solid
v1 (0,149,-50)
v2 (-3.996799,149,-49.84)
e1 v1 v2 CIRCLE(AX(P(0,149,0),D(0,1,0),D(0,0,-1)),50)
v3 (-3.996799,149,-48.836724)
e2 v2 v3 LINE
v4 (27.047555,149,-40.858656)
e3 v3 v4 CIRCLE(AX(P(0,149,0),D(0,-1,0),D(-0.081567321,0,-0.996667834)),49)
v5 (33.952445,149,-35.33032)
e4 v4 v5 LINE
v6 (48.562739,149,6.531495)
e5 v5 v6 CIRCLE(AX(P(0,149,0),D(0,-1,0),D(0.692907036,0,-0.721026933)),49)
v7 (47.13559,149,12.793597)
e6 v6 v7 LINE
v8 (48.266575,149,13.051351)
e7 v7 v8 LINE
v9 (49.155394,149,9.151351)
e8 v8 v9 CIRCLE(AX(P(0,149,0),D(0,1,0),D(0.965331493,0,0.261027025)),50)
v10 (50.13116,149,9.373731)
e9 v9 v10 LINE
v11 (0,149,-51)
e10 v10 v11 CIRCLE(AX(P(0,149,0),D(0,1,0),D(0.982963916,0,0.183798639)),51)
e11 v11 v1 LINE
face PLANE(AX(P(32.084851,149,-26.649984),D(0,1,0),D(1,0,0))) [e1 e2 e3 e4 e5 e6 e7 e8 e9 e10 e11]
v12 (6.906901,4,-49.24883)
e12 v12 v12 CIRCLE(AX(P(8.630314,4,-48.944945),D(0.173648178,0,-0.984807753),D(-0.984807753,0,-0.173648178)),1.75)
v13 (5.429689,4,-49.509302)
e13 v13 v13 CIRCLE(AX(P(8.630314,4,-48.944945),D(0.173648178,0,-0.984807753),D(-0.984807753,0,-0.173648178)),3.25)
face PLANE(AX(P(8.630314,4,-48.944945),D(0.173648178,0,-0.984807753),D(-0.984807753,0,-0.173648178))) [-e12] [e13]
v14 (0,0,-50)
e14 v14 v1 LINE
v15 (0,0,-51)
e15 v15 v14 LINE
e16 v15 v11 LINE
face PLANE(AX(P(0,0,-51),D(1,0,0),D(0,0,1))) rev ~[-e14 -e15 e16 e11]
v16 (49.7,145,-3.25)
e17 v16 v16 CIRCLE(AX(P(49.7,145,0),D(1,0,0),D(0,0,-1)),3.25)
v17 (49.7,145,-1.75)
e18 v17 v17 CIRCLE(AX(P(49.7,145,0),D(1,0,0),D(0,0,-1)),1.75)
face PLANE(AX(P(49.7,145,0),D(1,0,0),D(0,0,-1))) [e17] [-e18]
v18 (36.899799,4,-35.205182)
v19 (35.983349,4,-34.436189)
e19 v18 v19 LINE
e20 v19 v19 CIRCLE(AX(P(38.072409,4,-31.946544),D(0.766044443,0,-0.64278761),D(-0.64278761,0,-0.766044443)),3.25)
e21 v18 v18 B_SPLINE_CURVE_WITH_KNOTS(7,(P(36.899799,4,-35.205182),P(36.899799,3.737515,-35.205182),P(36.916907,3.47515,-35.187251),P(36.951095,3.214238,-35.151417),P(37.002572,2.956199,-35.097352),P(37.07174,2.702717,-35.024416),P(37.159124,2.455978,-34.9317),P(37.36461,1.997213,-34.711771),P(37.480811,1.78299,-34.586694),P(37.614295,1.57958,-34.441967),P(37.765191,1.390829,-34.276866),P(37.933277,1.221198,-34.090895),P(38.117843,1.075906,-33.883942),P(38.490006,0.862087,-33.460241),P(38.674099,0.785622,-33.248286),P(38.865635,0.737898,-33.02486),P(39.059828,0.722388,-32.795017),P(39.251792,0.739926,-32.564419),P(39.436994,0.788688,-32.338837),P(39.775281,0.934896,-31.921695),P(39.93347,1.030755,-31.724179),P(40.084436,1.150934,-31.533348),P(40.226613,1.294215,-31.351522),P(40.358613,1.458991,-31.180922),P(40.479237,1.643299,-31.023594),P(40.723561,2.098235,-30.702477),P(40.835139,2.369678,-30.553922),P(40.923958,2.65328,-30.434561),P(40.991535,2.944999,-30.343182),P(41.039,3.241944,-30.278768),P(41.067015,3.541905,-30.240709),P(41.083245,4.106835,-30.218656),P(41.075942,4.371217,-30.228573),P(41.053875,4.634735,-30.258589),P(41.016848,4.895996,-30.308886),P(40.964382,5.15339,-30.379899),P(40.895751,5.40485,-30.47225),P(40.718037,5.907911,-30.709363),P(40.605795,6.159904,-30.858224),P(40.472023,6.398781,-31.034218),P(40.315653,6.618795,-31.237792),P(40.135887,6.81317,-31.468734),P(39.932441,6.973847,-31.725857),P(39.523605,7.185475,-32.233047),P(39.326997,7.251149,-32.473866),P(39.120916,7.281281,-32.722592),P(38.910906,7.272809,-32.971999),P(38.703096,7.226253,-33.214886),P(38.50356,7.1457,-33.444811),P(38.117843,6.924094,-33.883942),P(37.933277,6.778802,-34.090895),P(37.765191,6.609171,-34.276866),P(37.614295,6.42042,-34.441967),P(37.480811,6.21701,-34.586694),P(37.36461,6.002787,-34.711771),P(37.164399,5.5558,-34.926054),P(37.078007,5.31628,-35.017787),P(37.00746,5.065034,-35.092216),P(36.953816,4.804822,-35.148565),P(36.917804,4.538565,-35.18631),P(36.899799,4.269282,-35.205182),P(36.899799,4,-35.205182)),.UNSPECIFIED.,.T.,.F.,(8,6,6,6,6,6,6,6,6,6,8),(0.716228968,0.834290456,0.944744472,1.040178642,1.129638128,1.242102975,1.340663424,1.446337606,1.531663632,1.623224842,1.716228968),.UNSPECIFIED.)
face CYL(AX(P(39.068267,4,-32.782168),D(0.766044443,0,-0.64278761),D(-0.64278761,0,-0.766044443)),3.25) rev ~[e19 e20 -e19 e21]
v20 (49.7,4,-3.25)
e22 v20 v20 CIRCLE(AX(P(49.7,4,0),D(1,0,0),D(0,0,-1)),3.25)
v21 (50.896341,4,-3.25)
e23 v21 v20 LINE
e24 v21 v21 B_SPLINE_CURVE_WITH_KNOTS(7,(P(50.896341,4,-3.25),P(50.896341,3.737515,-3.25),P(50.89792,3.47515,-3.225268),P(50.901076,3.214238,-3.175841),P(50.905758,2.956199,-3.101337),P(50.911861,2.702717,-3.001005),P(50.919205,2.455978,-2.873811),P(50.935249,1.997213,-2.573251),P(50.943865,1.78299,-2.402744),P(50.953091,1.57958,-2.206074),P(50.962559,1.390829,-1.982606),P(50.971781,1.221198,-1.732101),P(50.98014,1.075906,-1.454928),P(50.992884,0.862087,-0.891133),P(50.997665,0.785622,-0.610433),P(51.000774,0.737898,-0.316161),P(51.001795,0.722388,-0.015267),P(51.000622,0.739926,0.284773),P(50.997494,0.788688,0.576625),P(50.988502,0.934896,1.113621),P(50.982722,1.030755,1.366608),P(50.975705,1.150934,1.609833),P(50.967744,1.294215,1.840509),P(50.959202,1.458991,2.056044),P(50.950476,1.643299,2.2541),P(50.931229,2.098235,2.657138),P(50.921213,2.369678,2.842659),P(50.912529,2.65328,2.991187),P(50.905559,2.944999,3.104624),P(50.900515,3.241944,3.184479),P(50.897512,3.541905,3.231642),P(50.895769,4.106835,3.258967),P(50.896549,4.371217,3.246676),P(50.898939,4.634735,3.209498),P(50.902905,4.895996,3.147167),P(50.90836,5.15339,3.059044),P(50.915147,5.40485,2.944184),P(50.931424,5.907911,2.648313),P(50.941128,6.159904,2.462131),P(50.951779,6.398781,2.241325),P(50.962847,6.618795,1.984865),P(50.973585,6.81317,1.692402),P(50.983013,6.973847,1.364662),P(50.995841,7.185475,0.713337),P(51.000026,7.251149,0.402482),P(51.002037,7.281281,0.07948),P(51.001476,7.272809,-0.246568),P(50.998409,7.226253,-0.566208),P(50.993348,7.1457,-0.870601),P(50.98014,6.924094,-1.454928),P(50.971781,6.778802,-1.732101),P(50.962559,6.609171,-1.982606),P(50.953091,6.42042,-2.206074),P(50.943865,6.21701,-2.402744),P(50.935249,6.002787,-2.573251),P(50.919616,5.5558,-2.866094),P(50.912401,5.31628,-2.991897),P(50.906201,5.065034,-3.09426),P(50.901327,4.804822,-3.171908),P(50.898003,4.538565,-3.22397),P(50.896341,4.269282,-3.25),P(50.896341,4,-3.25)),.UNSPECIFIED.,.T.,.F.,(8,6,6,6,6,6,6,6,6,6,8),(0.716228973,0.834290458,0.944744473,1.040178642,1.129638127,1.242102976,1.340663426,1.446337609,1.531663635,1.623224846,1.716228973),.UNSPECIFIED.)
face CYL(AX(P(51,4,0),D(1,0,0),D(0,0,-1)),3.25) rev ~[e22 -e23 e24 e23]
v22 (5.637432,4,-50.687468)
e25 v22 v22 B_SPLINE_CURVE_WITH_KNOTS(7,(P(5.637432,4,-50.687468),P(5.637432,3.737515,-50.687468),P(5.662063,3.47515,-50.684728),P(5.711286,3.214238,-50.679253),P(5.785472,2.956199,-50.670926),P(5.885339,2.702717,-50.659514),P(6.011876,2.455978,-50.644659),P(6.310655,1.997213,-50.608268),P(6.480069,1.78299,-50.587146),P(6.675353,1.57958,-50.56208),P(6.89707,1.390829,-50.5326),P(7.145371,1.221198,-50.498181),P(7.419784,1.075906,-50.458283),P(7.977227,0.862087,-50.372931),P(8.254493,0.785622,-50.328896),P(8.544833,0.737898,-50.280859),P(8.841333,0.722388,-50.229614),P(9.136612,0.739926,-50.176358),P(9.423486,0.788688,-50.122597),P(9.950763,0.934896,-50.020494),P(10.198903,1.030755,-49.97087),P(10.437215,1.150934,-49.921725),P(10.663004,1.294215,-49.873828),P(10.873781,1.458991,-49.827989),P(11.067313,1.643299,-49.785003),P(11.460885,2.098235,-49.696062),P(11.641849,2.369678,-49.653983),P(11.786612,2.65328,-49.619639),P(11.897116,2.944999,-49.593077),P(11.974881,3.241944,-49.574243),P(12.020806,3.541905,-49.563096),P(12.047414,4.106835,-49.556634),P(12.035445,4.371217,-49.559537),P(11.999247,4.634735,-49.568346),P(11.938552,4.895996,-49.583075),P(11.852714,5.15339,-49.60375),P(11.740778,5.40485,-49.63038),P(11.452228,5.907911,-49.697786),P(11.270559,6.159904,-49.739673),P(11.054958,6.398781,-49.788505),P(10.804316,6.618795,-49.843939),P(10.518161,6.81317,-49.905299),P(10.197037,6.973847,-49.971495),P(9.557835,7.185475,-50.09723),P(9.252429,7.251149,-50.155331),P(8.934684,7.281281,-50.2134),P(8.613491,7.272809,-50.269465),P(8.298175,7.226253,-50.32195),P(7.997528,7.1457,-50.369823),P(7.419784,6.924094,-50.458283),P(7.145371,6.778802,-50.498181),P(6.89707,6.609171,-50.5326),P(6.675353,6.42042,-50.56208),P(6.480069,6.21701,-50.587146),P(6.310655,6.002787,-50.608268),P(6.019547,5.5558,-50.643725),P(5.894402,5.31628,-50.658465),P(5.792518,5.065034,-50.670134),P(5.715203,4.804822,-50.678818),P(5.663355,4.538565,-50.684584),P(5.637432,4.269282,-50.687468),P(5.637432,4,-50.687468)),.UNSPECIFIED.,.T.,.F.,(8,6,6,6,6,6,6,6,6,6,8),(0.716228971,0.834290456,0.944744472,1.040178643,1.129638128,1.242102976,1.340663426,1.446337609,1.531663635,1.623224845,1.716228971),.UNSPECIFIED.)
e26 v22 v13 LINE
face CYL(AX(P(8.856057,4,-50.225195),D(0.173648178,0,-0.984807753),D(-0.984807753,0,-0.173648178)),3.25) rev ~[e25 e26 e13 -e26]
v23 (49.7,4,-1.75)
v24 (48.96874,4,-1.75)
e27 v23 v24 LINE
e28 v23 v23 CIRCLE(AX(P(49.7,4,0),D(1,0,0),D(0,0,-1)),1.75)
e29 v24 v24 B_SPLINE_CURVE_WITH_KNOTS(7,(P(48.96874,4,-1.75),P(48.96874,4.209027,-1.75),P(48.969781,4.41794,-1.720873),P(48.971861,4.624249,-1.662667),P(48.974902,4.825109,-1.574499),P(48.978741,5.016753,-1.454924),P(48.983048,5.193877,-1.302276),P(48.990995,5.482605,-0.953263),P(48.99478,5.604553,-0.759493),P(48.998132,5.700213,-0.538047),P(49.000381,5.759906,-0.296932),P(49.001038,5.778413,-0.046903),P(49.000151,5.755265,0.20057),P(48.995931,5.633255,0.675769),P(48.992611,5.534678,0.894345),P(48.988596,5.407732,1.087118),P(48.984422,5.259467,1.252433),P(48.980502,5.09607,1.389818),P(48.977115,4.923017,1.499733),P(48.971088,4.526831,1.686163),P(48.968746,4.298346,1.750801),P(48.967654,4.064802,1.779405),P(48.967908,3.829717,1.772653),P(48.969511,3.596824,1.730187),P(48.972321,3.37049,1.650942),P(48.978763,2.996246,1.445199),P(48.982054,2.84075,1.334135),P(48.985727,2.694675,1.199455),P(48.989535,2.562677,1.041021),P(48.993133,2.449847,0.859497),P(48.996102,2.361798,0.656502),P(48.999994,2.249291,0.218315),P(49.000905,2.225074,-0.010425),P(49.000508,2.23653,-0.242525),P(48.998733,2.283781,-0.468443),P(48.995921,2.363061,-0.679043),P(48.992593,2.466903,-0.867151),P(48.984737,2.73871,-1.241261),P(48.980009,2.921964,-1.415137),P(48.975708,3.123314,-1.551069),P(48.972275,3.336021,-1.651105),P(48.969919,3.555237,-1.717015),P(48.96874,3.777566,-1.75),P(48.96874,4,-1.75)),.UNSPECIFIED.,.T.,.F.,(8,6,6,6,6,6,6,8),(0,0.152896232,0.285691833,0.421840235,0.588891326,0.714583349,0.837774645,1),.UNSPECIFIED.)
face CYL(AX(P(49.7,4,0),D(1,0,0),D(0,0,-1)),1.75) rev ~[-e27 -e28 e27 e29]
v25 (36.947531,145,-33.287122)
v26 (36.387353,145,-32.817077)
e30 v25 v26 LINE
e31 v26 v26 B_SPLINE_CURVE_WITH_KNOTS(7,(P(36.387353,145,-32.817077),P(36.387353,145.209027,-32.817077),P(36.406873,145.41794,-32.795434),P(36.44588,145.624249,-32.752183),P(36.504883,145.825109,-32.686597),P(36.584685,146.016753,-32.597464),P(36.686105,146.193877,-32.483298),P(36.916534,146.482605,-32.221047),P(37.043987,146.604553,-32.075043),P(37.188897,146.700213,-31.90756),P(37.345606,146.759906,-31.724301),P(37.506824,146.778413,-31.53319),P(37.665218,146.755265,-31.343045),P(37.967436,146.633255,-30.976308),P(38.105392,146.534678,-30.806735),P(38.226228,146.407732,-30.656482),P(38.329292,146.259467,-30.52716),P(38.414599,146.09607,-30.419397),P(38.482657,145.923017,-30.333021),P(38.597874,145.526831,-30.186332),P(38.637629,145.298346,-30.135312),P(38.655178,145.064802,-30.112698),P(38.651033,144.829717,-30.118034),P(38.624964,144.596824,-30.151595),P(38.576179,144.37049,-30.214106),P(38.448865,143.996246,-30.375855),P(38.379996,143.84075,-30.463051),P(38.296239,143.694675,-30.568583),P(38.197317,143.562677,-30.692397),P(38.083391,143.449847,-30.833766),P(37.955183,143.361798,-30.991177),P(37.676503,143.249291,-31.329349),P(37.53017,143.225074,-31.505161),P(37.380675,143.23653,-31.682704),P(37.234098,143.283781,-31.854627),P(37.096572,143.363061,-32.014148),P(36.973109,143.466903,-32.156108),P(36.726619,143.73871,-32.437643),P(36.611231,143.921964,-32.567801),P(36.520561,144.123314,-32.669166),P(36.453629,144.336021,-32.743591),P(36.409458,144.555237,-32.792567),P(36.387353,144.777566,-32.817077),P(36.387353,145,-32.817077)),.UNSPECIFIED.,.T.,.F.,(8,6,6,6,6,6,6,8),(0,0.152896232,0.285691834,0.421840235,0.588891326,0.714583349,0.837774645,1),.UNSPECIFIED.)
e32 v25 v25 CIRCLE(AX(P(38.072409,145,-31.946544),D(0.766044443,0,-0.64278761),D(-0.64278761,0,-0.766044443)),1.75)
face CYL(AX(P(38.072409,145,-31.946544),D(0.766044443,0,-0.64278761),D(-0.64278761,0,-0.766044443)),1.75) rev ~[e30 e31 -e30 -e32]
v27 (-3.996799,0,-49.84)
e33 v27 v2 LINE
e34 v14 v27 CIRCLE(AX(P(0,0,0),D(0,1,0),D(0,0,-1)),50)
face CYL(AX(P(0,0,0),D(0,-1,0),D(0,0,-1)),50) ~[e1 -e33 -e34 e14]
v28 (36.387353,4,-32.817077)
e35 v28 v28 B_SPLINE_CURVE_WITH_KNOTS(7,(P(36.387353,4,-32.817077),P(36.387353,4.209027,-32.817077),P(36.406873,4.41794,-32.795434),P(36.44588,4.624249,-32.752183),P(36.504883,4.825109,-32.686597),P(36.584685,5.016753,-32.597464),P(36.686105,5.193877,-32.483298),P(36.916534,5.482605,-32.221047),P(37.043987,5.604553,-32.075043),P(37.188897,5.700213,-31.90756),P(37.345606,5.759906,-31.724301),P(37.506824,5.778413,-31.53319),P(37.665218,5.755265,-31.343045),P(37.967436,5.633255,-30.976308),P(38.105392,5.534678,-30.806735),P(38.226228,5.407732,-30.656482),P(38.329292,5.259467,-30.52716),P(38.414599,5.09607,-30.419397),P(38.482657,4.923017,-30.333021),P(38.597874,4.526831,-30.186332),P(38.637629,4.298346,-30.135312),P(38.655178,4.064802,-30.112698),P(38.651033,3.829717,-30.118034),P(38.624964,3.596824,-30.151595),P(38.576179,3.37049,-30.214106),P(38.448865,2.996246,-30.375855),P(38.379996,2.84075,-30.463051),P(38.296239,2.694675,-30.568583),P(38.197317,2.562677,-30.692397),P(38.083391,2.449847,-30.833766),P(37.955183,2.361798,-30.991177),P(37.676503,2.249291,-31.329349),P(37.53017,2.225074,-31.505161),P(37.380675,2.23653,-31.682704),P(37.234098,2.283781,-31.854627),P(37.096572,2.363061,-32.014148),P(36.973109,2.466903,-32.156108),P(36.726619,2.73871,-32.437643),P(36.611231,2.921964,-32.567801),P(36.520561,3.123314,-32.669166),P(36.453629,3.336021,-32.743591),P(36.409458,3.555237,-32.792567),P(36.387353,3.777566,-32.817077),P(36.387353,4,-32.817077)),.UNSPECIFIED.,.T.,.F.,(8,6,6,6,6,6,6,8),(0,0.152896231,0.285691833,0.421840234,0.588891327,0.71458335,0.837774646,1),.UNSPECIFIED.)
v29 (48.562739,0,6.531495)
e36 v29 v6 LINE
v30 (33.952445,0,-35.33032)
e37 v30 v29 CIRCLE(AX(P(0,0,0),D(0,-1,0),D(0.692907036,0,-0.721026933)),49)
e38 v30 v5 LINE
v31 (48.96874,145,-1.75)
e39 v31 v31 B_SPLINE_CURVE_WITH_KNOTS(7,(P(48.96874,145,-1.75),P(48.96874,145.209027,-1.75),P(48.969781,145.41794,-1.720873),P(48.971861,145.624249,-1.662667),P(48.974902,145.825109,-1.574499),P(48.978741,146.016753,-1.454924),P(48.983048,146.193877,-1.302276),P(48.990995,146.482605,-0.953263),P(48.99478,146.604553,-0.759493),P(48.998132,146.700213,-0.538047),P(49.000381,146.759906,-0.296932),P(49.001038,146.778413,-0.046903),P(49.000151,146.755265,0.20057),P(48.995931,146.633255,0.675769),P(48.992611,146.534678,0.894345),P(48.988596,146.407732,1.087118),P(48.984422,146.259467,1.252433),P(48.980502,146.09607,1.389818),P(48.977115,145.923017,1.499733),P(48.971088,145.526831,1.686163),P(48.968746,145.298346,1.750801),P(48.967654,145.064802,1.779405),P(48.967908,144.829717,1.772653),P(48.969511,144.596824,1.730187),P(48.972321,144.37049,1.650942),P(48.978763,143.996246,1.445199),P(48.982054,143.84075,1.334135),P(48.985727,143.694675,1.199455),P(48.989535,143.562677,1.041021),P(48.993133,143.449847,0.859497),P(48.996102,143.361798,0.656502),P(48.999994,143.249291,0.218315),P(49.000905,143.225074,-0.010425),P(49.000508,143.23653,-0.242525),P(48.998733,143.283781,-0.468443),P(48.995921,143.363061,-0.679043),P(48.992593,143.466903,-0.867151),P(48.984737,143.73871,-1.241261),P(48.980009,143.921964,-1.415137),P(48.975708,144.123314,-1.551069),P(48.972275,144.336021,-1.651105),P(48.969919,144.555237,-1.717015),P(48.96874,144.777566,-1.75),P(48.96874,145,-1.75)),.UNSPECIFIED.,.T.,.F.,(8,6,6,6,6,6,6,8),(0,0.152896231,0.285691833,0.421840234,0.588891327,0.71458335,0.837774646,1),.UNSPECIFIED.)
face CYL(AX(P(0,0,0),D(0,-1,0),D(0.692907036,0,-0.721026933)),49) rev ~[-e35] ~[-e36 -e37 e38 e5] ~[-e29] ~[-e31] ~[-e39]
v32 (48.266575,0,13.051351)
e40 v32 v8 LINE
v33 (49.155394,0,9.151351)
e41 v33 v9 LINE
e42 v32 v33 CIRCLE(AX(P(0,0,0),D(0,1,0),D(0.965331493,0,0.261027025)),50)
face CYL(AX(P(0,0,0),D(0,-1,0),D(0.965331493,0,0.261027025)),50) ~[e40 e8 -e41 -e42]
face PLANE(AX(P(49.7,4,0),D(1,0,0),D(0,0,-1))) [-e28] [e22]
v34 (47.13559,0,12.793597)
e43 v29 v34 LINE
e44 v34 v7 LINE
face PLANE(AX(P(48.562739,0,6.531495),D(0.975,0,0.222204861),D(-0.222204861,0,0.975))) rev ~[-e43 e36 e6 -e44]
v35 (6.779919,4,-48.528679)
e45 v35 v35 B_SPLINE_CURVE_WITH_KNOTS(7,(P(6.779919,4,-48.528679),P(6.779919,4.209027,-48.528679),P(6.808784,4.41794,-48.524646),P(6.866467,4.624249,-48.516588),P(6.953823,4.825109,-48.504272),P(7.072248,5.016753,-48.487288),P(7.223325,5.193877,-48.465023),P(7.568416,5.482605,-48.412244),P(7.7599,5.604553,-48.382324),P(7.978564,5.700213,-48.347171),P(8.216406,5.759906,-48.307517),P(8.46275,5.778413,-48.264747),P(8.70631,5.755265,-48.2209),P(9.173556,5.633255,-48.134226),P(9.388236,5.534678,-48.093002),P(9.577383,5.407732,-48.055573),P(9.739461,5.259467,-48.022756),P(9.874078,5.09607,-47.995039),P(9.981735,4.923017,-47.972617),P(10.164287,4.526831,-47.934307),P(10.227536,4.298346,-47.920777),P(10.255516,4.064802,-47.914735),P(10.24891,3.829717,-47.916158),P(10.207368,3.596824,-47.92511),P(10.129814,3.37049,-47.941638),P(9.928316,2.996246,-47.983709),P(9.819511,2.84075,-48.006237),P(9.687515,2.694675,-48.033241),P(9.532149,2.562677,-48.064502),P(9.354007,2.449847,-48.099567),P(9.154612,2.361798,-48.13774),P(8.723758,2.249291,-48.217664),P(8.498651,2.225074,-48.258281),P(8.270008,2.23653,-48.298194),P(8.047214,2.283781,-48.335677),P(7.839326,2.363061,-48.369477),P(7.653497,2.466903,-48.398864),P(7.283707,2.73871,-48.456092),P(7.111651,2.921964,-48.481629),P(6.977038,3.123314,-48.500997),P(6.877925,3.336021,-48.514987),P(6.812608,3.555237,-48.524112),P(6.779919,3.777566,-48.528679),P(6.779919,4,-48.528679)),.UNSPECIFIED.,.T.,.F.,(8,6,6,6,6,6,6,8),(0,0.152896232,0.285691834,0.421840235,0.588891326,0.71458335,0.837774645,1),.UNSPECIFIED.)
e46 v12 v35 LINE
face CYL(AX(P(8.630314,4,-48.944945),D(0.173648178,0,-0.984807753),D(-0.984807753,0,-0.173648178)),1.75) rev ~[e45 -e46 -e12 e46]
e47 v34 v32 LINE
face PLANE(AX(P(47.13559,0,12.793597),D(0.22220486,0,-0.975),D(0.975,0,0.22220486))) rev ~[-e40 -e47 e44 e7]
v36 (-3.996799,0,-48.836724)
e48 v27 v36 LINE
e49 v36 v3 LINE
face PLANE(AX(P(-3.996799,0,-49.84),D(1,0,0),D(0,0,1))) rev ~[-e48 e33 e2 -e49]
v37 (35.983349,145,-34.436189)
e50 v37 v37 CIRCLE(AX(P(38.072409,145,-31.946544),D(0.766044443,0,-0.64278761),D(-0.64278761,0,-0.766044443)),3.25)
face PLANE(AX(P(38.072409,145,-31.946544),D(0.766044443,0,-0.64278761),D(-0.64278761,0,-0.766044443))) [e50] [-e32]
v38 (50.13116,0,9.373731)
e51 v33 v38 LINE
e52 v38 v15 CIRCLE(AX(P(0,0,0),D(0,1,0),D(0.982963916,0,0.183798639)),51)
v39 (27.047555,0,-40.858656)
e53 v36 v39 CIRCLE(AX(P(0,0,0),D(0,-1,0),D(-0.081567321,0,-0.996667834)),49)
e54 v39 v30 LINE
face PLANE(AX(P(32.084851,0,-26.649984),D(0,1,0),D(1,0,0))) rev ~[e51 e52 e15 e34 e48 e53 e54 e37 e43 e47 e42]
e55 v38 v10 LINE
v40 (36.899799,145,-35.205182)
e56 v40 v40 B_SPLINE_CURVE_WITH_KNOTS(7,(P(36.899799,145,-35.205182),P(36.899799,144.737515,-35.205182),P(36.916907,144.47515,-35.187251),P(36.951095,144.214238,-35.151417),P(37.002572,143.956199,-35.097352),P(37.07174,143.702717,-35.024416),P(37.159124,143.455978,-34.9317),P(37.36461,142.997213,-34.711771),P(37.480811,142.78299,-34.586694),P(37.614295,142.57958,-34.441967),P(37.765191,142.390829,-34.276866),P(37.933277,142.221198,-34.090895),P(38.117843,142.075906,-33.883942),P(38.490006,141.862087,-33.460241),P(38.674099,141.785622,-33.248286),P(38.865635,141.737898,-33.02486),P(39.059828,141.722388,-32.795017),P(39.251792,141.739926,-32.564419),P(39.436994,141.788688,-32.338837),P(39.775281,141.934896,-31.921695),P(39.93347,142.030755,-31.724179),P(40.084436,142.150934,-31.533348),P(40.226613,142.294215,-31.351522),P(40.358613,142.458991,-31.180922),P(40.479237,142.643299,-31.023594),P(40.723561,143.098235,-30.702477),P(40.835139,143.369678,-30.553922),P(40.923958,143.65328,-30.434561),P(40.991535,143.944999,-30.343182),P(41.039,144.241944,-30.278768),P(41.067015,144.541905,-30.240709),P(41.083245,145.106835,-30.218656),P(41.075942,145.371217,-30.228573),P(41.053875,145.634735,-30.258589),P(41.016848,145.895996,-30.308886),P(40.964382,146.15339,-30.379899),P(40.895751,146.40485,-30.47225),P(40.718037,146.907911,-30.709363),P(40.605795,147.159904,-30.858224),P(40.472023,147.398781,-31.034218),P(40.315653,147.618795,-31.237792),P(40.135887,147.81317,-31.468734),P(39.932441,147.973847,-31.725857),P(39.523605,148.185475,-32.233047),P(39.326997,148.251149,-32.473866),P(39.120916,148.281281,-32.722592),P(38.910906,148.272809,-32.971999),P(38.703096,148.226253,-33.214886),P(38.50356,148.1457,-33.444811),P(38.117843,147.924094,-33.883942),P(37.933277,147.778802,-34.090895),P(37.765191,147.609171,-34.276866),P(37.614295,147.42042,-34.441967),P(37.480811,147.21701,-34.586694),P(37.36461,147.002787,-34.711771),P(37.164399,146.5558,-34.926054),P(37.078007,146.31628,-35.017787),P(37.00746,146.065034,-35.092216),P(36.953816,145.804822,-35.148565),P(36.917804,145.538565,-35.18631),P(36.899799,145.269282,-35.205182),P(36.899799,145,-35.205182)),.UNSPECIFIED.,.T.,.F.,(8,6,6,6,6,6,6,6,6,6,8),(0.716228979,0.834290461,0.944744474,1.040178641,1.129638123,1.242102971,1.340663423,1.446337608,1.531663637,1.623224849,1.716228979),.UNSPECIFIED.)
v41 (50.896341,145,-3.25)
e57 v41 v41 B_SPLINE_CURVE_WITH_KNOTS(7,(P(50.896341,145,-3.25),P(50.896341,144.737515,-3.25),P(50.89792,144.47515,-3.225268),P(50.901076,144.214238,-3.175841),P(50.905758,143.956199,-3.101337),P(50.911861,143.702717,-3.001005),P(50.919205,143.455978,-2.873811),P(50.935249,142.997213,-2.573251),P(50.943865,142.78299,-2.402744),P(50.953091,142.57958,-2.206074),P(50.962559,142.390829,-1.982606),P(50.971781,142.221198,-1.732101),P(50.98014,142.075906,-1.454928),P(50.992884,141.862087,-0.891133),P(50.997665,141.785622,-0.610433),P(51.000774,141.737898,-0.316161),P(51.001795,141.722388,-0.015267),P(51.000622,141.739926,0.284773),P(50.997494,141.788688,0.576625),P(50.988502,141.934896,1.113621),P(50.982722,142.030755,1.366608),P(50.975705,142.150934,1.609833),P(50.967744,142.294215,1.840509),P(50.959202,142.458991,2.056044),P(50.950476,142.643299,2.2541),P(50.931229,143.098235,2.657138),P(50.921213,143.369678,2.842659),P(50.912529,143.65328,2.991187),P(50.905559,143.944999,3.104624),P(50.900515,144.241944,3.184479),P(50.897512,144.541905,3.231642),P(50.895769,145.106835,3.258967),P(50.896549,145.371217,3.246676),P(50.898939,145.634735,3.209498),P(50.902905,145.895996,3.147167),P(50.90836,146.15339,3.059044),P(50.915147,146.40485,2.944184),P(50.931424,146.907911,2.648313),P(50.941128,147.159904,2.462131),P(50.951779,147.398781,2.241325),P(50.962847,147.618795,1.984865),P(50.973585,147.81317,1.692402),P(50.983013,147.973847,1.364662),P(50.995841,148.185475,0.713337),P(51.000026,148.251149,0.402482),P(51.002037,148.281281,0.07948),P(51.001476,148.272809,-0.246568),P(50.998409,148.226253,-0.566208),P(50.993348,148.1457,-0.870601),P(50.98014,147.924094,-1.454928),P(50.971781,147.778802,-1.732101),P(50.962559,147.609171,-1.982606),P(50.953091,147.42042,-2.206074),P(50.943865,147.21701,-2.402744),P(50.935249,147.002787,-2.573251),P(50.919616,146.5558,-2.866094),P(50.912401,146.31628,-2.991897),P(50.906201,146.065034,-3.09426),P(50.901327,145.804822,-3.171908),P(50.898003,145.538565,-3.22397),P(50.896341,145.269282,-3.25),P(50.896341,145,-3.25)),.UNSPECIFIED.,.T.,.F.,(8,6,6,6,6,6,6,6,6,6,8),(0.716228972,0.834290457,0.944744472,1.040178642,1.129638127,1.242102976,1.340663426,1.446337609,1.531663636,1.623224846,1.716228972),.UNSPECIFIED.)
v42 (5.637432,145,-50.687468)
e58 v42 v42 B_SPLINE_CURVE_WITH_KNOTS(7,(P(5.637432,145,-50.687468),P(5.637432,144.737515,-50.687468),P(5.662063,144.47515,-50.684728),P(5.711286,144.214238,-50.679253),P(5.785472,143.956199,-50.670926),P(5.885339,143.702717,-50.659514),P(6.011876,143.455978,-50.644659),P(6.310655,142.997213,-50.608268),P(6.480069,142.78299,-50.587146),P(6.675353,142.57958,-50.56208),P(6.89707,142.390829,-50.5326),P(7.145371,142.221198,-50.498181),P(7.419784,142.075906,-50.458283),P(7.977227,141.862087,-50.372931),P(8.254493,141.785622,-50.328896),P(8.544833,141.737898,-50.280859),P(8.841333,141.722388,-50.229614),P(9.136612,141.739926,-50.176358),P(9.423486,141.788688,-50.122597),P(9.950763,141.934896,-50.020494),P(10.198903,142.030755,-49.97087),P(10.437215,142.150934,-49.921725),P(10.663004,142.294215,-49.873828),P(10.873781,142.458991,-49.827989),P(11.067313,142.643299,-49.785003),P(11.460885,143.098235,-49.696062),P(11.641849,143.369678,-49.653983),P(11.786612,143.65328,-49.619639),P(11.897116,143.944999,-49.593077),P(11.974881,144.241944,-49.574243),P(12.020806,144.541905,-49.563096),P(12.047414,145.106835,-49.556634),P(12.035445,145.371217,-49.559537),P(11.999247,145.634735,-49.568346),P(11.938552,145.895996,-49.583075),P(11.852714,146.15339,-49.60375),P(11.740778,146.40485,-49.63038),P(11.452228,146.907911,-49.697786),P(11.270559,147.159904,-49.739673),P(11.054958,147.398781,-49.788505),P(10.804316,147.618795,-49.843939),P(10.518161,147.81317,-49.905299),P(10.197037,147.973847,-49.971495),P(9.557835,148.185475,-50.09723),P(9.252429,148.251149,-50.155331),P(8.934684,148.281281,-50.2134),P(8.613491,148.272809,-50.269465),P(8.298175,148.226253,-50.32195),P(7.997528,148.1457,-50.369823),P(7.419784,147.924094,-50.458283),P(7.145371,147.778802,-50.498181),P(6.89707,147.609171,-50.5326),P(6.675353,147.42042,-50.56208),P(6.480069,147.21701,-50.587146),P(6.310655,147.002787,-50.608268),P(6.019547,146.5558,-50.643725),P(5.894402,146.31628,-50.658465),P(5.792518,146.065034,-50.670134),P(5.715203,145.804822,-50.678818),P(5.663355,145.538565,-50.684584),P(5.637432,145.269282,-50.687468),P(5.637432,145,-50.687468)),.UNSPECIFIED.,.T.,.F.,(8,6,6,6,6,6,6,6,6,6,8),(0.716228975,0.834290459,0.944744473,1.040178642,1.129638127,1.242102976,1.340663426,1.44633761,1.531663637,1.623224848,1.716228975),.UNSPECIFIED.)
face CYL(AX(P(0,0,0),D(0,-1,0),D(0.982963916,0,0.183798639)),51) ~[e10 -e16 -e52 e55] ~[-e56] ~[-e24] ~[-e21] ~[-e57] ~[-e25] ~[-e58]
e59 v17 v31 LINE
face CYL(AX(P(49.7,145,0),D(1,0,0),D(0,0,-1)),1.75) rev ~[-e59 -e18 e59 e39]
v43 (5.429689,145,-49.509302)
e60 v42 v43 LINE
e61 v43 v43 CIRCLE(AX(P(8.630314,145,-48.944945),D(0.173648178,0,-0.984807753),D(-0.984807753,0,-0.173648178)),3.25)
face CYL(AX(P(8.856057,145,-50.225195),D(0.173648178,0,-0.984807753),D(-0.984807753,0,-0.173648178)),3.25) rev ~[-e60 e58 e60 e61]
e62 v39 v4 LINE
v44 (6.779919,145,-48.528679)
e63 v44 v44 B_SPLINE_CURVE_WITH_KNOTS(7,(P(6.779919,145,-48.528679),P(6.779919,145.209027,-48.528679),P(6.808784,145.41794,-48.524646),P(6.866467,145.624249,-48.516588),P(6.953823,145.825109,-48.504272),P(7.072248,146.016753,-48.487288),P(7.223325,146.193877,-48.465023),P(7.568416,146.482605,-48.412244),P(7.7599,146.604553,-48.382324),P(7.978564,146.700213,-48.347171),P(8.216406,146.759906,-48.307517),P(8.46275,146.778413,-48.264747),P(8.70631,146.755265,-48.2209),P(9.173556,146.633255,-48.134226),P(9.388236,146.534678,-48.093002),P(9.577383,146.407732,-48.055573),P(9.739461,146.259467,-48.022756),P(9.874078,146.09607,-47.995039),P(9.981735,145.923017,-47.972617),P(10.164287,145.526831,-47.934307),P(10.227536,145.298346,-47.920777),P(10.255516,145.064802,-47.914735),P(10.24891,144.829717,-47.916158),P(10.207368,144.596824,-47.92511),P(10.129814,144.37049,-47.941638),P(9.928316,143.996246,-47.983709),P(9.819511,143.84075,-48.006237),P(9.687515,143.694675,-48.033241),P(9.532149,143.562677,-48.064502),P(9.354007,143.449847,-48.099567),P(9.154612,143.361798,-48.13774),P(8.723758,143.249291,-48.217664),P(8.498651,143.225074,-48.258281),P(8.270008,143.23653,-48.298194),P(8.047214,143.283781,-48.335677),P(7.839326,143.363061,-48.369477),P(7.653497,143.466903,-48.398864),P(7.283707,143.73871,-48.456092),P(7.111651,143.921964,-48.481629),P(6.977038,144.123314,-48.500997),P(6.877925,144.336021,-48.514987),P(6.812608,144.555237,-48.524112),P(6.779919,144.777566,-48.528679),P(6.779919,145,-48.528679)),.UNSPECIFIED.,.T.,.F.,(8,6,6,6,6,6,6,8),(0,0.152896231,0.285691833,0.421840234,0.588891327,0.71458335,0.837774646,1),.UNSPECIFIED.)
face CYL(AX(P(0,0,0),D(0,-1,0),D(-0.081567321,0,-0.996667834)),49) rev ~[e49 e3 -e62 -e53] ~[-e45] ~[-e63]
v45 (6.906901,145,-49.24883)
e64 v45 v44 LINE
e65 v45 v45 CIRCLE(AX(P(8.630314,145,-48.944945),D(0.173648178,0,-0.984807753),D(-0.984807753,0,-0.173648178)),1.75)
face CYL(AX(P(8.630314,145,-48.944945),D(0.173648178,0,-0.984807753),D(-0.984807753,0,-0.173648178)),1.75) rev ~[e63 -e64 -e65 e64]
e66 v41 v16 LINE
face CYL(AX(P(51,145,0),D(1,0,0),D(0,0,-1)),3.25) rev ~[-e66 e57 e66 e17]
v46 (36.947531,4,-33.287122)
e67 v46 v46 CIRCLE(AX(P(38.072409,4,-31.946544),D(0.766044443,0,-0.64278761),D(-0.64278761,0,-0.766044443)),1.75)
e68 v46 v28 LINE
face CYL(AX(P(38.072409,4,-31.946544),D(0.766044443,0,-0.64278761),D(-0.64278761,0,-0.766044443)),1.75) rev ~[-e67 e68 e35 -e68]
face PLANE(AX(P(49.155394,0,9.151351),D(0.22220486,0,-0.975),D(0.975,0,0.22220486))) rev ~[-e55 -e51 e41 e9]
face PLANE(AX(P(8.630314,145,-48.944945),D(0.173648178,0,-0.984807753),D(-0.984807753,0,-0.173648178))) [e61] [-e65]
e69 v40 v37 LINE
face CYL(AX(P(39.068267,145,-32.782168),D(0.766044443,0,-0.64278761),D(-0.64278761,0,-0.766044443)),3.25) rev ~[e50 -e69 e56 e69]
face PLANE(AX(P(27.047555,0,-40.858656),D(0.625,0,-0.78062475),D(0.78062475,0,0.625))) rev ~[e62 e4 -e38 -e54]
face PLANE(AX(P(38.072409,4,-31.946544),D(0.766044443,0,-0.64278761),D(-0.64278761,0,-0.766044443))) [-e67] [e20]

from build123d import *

# Parameters (mm, degrees)
EXTRUDE_2_DEPTH          = 149
SKETCH_15_R              = 3.25
CUT_EXTRUDE_5_DEPTH      = 1.3
SKETCH_16_R              = 1.75
CUT_EXTRUDE_6_DEPTH      = 167.38914097
PATTERN_CIRCULAR_3_COUNT = 5
PATTERN_CIRCULAR_3_ANGLE = 80
SKETCH_17_R              = 3.25
CUT_EXTRUDE_7_DEPTH      = 1.3
SKETCH_18_R              = 1.75
CUT_EXTRUDE_8_DEPTH      = 167.389141002
PATTERN_CIRCULAR_5_COUNT = 5
PATTERN_CIRCULAR_5_ANGLE = 80


with BuildPart() as part:
    # Эскиз2 → Бобышка-Вытянуть2 (new body)
    with BuildSketch(Plane(origin=(0, 0, 0), x_dir=(1, 0, 0), z_dir=(0, 1, 0))):
        with BuildLine():
            Line((47.135590279, -12.793597189), (48.266574667, -13.051351269))
            ThreePointArc((48.266574667, -13.051351269), (48.75, -11.110243022), (49.155394108, -9.151351269))
            Line((49.155394108, -9.151351269), (50.131159715, -9.373730613))
            ThreePointArc((50.131159715, -9.373730613), (39.236846594, 32.580206711), (0, 51))
            Line((0, 51), (0, 50))
            ThreePointArc((0, 50), (-2, 49.959983987), (-3.996798719, 49.84))
            Line((-3.996798719, 49.84), (-3.996798719, 48.836723887))
            ThreePointArc((-3.996798719, 48.836723887), (12.196177114, 47.457910445), (27.047555214, 40.858655839))
            Line((27.047555214, 40.858655839), (33.952444786, 35.330319742))
            ThreePointArc((33.952444786, 35.330319742), (46.263287314, 16.146462365), (48.562738521, -6.531495034))
            Line((48.562738521, -6.531495034), (47.135590279, -12.793597189))
        make_face()
    extrude(amount=EXTRUDE_2_DEPTH)

    # Эскиз15 → Вырез-Вытянуть5 (cut)
    with BuildSketch(Plane(origin=(51, 0, 0), x_dir=(0, 0, -1), z_dir=(1, 0, 0))):
        with Locations((0, 4)):
            Circle(SKETCH_15_R)
    cut_extrude_5 = extrude(amount=-CUT_EXTRUDE_5_DEPTH, mode=Mode.SUBTRACT)

    # Эскиз16 → Вырез-Вытянуть6 (cut, through all)
    with BuildSketch(Plane(origin=(49.7, 0, 0), x_dir=(0, 0, -1), z_dir=(1, 0, 0))):
        with Locations((0, 4)):
            Circle(SKETCH_16_R)
    cut_extrude_6 = extrude(amount=-CUT_EXTRUDE_6_DEPTH, mode=Mode.SUBTRACT)

    # Круговой массив3: Вырез-Вытянуть5, Вырез-Вытянуть6 ×5 about axis, 2 skipped
    pattern_circular_3_axis = Axis((0, 0, 0), (0, 1, 0))
    add([cut_extrude_5.rotate(pattern_circular_3_axis, i * PATTERN_CIRCULAR_3_ANGLE / (PATTERN_CIRCULAR_3_COUNT - 1)) for i in range(1, PATTERN_CIRCULAR_3_COUNT) if i not in (1, 3)], mode=Mode.SUBTRACT)
    add([cut_extrude_6.rotate(pattern_circular_3_axis, i * PATTERN_CIRCULAR_3_ANGLE / (PATTERN_CIRCULAR_3_COUNT - 1)) for i in range(1, PATTERN_CIRCULAR_3_COUNT) if i not in (1, 3)], mode=Mode.SUBTRACT)

    # Эскиз17 → Вырез-Вытянуть7 (cut)
    with BuildSketch(Plane(origin=(51, 0, 0), x_dir=(0, 0, -1), z_dir=(1, 0, 0))):
        with Locations((0, 145)):
            Circle(SKETCH_17_R)
    cut_extrude_7 = extrude(amount=-CUT_EXTRUDE_7_DEPTH, mode=Mode.SUBTRACT)

    # Эскиз18 → Вырез-Вытянуть8 (cut, through all)
    with BuildSketch(Plane(origin=(49.7, 0, 0), x_dir=(0, 0, -1), z_dir=(1, 0, 0))):
        with Locations((0, 145)):
            Circle(SKETCH_18_R)
    cut_extrude_8 = extrude(amount=-CUT_EXTRUDE_8_DEPTH, mode=Mode.SUBTRACT)

    # Круговой массив5: Вырез-Вытянуть7, Вырез-Вытянуть8 ×5 about axis, 2 skipped
    pattern_circular_5_axis = Axis((0, 149, 0), (0, 1, 0))
    add([cut_extrude_7.rotate(pattern_circular_5_axis, i * PATTERN_CIRCULAR_5_ANGLE / (PATTERN_CIRCULAR_5_COUNT - 1)) for i in range(1, PATTERN_CIRCULAR_5_COUNT) if i not in (1, 3)], mode=Mode.SUBTRACT)
    add([cut_extrude_8.rotate(pattern_circular_5_axis, i * PATTERN_CIRCULAR_5_ANGLE / (PATTERN_CIRCULAR_5_COUNT - 1)) for i in range(1, PATTERN_CIRCULAR_5_COUNT) if i not in (1, 3)], mode=Mode.SUBTRACT)


solid = part.part
